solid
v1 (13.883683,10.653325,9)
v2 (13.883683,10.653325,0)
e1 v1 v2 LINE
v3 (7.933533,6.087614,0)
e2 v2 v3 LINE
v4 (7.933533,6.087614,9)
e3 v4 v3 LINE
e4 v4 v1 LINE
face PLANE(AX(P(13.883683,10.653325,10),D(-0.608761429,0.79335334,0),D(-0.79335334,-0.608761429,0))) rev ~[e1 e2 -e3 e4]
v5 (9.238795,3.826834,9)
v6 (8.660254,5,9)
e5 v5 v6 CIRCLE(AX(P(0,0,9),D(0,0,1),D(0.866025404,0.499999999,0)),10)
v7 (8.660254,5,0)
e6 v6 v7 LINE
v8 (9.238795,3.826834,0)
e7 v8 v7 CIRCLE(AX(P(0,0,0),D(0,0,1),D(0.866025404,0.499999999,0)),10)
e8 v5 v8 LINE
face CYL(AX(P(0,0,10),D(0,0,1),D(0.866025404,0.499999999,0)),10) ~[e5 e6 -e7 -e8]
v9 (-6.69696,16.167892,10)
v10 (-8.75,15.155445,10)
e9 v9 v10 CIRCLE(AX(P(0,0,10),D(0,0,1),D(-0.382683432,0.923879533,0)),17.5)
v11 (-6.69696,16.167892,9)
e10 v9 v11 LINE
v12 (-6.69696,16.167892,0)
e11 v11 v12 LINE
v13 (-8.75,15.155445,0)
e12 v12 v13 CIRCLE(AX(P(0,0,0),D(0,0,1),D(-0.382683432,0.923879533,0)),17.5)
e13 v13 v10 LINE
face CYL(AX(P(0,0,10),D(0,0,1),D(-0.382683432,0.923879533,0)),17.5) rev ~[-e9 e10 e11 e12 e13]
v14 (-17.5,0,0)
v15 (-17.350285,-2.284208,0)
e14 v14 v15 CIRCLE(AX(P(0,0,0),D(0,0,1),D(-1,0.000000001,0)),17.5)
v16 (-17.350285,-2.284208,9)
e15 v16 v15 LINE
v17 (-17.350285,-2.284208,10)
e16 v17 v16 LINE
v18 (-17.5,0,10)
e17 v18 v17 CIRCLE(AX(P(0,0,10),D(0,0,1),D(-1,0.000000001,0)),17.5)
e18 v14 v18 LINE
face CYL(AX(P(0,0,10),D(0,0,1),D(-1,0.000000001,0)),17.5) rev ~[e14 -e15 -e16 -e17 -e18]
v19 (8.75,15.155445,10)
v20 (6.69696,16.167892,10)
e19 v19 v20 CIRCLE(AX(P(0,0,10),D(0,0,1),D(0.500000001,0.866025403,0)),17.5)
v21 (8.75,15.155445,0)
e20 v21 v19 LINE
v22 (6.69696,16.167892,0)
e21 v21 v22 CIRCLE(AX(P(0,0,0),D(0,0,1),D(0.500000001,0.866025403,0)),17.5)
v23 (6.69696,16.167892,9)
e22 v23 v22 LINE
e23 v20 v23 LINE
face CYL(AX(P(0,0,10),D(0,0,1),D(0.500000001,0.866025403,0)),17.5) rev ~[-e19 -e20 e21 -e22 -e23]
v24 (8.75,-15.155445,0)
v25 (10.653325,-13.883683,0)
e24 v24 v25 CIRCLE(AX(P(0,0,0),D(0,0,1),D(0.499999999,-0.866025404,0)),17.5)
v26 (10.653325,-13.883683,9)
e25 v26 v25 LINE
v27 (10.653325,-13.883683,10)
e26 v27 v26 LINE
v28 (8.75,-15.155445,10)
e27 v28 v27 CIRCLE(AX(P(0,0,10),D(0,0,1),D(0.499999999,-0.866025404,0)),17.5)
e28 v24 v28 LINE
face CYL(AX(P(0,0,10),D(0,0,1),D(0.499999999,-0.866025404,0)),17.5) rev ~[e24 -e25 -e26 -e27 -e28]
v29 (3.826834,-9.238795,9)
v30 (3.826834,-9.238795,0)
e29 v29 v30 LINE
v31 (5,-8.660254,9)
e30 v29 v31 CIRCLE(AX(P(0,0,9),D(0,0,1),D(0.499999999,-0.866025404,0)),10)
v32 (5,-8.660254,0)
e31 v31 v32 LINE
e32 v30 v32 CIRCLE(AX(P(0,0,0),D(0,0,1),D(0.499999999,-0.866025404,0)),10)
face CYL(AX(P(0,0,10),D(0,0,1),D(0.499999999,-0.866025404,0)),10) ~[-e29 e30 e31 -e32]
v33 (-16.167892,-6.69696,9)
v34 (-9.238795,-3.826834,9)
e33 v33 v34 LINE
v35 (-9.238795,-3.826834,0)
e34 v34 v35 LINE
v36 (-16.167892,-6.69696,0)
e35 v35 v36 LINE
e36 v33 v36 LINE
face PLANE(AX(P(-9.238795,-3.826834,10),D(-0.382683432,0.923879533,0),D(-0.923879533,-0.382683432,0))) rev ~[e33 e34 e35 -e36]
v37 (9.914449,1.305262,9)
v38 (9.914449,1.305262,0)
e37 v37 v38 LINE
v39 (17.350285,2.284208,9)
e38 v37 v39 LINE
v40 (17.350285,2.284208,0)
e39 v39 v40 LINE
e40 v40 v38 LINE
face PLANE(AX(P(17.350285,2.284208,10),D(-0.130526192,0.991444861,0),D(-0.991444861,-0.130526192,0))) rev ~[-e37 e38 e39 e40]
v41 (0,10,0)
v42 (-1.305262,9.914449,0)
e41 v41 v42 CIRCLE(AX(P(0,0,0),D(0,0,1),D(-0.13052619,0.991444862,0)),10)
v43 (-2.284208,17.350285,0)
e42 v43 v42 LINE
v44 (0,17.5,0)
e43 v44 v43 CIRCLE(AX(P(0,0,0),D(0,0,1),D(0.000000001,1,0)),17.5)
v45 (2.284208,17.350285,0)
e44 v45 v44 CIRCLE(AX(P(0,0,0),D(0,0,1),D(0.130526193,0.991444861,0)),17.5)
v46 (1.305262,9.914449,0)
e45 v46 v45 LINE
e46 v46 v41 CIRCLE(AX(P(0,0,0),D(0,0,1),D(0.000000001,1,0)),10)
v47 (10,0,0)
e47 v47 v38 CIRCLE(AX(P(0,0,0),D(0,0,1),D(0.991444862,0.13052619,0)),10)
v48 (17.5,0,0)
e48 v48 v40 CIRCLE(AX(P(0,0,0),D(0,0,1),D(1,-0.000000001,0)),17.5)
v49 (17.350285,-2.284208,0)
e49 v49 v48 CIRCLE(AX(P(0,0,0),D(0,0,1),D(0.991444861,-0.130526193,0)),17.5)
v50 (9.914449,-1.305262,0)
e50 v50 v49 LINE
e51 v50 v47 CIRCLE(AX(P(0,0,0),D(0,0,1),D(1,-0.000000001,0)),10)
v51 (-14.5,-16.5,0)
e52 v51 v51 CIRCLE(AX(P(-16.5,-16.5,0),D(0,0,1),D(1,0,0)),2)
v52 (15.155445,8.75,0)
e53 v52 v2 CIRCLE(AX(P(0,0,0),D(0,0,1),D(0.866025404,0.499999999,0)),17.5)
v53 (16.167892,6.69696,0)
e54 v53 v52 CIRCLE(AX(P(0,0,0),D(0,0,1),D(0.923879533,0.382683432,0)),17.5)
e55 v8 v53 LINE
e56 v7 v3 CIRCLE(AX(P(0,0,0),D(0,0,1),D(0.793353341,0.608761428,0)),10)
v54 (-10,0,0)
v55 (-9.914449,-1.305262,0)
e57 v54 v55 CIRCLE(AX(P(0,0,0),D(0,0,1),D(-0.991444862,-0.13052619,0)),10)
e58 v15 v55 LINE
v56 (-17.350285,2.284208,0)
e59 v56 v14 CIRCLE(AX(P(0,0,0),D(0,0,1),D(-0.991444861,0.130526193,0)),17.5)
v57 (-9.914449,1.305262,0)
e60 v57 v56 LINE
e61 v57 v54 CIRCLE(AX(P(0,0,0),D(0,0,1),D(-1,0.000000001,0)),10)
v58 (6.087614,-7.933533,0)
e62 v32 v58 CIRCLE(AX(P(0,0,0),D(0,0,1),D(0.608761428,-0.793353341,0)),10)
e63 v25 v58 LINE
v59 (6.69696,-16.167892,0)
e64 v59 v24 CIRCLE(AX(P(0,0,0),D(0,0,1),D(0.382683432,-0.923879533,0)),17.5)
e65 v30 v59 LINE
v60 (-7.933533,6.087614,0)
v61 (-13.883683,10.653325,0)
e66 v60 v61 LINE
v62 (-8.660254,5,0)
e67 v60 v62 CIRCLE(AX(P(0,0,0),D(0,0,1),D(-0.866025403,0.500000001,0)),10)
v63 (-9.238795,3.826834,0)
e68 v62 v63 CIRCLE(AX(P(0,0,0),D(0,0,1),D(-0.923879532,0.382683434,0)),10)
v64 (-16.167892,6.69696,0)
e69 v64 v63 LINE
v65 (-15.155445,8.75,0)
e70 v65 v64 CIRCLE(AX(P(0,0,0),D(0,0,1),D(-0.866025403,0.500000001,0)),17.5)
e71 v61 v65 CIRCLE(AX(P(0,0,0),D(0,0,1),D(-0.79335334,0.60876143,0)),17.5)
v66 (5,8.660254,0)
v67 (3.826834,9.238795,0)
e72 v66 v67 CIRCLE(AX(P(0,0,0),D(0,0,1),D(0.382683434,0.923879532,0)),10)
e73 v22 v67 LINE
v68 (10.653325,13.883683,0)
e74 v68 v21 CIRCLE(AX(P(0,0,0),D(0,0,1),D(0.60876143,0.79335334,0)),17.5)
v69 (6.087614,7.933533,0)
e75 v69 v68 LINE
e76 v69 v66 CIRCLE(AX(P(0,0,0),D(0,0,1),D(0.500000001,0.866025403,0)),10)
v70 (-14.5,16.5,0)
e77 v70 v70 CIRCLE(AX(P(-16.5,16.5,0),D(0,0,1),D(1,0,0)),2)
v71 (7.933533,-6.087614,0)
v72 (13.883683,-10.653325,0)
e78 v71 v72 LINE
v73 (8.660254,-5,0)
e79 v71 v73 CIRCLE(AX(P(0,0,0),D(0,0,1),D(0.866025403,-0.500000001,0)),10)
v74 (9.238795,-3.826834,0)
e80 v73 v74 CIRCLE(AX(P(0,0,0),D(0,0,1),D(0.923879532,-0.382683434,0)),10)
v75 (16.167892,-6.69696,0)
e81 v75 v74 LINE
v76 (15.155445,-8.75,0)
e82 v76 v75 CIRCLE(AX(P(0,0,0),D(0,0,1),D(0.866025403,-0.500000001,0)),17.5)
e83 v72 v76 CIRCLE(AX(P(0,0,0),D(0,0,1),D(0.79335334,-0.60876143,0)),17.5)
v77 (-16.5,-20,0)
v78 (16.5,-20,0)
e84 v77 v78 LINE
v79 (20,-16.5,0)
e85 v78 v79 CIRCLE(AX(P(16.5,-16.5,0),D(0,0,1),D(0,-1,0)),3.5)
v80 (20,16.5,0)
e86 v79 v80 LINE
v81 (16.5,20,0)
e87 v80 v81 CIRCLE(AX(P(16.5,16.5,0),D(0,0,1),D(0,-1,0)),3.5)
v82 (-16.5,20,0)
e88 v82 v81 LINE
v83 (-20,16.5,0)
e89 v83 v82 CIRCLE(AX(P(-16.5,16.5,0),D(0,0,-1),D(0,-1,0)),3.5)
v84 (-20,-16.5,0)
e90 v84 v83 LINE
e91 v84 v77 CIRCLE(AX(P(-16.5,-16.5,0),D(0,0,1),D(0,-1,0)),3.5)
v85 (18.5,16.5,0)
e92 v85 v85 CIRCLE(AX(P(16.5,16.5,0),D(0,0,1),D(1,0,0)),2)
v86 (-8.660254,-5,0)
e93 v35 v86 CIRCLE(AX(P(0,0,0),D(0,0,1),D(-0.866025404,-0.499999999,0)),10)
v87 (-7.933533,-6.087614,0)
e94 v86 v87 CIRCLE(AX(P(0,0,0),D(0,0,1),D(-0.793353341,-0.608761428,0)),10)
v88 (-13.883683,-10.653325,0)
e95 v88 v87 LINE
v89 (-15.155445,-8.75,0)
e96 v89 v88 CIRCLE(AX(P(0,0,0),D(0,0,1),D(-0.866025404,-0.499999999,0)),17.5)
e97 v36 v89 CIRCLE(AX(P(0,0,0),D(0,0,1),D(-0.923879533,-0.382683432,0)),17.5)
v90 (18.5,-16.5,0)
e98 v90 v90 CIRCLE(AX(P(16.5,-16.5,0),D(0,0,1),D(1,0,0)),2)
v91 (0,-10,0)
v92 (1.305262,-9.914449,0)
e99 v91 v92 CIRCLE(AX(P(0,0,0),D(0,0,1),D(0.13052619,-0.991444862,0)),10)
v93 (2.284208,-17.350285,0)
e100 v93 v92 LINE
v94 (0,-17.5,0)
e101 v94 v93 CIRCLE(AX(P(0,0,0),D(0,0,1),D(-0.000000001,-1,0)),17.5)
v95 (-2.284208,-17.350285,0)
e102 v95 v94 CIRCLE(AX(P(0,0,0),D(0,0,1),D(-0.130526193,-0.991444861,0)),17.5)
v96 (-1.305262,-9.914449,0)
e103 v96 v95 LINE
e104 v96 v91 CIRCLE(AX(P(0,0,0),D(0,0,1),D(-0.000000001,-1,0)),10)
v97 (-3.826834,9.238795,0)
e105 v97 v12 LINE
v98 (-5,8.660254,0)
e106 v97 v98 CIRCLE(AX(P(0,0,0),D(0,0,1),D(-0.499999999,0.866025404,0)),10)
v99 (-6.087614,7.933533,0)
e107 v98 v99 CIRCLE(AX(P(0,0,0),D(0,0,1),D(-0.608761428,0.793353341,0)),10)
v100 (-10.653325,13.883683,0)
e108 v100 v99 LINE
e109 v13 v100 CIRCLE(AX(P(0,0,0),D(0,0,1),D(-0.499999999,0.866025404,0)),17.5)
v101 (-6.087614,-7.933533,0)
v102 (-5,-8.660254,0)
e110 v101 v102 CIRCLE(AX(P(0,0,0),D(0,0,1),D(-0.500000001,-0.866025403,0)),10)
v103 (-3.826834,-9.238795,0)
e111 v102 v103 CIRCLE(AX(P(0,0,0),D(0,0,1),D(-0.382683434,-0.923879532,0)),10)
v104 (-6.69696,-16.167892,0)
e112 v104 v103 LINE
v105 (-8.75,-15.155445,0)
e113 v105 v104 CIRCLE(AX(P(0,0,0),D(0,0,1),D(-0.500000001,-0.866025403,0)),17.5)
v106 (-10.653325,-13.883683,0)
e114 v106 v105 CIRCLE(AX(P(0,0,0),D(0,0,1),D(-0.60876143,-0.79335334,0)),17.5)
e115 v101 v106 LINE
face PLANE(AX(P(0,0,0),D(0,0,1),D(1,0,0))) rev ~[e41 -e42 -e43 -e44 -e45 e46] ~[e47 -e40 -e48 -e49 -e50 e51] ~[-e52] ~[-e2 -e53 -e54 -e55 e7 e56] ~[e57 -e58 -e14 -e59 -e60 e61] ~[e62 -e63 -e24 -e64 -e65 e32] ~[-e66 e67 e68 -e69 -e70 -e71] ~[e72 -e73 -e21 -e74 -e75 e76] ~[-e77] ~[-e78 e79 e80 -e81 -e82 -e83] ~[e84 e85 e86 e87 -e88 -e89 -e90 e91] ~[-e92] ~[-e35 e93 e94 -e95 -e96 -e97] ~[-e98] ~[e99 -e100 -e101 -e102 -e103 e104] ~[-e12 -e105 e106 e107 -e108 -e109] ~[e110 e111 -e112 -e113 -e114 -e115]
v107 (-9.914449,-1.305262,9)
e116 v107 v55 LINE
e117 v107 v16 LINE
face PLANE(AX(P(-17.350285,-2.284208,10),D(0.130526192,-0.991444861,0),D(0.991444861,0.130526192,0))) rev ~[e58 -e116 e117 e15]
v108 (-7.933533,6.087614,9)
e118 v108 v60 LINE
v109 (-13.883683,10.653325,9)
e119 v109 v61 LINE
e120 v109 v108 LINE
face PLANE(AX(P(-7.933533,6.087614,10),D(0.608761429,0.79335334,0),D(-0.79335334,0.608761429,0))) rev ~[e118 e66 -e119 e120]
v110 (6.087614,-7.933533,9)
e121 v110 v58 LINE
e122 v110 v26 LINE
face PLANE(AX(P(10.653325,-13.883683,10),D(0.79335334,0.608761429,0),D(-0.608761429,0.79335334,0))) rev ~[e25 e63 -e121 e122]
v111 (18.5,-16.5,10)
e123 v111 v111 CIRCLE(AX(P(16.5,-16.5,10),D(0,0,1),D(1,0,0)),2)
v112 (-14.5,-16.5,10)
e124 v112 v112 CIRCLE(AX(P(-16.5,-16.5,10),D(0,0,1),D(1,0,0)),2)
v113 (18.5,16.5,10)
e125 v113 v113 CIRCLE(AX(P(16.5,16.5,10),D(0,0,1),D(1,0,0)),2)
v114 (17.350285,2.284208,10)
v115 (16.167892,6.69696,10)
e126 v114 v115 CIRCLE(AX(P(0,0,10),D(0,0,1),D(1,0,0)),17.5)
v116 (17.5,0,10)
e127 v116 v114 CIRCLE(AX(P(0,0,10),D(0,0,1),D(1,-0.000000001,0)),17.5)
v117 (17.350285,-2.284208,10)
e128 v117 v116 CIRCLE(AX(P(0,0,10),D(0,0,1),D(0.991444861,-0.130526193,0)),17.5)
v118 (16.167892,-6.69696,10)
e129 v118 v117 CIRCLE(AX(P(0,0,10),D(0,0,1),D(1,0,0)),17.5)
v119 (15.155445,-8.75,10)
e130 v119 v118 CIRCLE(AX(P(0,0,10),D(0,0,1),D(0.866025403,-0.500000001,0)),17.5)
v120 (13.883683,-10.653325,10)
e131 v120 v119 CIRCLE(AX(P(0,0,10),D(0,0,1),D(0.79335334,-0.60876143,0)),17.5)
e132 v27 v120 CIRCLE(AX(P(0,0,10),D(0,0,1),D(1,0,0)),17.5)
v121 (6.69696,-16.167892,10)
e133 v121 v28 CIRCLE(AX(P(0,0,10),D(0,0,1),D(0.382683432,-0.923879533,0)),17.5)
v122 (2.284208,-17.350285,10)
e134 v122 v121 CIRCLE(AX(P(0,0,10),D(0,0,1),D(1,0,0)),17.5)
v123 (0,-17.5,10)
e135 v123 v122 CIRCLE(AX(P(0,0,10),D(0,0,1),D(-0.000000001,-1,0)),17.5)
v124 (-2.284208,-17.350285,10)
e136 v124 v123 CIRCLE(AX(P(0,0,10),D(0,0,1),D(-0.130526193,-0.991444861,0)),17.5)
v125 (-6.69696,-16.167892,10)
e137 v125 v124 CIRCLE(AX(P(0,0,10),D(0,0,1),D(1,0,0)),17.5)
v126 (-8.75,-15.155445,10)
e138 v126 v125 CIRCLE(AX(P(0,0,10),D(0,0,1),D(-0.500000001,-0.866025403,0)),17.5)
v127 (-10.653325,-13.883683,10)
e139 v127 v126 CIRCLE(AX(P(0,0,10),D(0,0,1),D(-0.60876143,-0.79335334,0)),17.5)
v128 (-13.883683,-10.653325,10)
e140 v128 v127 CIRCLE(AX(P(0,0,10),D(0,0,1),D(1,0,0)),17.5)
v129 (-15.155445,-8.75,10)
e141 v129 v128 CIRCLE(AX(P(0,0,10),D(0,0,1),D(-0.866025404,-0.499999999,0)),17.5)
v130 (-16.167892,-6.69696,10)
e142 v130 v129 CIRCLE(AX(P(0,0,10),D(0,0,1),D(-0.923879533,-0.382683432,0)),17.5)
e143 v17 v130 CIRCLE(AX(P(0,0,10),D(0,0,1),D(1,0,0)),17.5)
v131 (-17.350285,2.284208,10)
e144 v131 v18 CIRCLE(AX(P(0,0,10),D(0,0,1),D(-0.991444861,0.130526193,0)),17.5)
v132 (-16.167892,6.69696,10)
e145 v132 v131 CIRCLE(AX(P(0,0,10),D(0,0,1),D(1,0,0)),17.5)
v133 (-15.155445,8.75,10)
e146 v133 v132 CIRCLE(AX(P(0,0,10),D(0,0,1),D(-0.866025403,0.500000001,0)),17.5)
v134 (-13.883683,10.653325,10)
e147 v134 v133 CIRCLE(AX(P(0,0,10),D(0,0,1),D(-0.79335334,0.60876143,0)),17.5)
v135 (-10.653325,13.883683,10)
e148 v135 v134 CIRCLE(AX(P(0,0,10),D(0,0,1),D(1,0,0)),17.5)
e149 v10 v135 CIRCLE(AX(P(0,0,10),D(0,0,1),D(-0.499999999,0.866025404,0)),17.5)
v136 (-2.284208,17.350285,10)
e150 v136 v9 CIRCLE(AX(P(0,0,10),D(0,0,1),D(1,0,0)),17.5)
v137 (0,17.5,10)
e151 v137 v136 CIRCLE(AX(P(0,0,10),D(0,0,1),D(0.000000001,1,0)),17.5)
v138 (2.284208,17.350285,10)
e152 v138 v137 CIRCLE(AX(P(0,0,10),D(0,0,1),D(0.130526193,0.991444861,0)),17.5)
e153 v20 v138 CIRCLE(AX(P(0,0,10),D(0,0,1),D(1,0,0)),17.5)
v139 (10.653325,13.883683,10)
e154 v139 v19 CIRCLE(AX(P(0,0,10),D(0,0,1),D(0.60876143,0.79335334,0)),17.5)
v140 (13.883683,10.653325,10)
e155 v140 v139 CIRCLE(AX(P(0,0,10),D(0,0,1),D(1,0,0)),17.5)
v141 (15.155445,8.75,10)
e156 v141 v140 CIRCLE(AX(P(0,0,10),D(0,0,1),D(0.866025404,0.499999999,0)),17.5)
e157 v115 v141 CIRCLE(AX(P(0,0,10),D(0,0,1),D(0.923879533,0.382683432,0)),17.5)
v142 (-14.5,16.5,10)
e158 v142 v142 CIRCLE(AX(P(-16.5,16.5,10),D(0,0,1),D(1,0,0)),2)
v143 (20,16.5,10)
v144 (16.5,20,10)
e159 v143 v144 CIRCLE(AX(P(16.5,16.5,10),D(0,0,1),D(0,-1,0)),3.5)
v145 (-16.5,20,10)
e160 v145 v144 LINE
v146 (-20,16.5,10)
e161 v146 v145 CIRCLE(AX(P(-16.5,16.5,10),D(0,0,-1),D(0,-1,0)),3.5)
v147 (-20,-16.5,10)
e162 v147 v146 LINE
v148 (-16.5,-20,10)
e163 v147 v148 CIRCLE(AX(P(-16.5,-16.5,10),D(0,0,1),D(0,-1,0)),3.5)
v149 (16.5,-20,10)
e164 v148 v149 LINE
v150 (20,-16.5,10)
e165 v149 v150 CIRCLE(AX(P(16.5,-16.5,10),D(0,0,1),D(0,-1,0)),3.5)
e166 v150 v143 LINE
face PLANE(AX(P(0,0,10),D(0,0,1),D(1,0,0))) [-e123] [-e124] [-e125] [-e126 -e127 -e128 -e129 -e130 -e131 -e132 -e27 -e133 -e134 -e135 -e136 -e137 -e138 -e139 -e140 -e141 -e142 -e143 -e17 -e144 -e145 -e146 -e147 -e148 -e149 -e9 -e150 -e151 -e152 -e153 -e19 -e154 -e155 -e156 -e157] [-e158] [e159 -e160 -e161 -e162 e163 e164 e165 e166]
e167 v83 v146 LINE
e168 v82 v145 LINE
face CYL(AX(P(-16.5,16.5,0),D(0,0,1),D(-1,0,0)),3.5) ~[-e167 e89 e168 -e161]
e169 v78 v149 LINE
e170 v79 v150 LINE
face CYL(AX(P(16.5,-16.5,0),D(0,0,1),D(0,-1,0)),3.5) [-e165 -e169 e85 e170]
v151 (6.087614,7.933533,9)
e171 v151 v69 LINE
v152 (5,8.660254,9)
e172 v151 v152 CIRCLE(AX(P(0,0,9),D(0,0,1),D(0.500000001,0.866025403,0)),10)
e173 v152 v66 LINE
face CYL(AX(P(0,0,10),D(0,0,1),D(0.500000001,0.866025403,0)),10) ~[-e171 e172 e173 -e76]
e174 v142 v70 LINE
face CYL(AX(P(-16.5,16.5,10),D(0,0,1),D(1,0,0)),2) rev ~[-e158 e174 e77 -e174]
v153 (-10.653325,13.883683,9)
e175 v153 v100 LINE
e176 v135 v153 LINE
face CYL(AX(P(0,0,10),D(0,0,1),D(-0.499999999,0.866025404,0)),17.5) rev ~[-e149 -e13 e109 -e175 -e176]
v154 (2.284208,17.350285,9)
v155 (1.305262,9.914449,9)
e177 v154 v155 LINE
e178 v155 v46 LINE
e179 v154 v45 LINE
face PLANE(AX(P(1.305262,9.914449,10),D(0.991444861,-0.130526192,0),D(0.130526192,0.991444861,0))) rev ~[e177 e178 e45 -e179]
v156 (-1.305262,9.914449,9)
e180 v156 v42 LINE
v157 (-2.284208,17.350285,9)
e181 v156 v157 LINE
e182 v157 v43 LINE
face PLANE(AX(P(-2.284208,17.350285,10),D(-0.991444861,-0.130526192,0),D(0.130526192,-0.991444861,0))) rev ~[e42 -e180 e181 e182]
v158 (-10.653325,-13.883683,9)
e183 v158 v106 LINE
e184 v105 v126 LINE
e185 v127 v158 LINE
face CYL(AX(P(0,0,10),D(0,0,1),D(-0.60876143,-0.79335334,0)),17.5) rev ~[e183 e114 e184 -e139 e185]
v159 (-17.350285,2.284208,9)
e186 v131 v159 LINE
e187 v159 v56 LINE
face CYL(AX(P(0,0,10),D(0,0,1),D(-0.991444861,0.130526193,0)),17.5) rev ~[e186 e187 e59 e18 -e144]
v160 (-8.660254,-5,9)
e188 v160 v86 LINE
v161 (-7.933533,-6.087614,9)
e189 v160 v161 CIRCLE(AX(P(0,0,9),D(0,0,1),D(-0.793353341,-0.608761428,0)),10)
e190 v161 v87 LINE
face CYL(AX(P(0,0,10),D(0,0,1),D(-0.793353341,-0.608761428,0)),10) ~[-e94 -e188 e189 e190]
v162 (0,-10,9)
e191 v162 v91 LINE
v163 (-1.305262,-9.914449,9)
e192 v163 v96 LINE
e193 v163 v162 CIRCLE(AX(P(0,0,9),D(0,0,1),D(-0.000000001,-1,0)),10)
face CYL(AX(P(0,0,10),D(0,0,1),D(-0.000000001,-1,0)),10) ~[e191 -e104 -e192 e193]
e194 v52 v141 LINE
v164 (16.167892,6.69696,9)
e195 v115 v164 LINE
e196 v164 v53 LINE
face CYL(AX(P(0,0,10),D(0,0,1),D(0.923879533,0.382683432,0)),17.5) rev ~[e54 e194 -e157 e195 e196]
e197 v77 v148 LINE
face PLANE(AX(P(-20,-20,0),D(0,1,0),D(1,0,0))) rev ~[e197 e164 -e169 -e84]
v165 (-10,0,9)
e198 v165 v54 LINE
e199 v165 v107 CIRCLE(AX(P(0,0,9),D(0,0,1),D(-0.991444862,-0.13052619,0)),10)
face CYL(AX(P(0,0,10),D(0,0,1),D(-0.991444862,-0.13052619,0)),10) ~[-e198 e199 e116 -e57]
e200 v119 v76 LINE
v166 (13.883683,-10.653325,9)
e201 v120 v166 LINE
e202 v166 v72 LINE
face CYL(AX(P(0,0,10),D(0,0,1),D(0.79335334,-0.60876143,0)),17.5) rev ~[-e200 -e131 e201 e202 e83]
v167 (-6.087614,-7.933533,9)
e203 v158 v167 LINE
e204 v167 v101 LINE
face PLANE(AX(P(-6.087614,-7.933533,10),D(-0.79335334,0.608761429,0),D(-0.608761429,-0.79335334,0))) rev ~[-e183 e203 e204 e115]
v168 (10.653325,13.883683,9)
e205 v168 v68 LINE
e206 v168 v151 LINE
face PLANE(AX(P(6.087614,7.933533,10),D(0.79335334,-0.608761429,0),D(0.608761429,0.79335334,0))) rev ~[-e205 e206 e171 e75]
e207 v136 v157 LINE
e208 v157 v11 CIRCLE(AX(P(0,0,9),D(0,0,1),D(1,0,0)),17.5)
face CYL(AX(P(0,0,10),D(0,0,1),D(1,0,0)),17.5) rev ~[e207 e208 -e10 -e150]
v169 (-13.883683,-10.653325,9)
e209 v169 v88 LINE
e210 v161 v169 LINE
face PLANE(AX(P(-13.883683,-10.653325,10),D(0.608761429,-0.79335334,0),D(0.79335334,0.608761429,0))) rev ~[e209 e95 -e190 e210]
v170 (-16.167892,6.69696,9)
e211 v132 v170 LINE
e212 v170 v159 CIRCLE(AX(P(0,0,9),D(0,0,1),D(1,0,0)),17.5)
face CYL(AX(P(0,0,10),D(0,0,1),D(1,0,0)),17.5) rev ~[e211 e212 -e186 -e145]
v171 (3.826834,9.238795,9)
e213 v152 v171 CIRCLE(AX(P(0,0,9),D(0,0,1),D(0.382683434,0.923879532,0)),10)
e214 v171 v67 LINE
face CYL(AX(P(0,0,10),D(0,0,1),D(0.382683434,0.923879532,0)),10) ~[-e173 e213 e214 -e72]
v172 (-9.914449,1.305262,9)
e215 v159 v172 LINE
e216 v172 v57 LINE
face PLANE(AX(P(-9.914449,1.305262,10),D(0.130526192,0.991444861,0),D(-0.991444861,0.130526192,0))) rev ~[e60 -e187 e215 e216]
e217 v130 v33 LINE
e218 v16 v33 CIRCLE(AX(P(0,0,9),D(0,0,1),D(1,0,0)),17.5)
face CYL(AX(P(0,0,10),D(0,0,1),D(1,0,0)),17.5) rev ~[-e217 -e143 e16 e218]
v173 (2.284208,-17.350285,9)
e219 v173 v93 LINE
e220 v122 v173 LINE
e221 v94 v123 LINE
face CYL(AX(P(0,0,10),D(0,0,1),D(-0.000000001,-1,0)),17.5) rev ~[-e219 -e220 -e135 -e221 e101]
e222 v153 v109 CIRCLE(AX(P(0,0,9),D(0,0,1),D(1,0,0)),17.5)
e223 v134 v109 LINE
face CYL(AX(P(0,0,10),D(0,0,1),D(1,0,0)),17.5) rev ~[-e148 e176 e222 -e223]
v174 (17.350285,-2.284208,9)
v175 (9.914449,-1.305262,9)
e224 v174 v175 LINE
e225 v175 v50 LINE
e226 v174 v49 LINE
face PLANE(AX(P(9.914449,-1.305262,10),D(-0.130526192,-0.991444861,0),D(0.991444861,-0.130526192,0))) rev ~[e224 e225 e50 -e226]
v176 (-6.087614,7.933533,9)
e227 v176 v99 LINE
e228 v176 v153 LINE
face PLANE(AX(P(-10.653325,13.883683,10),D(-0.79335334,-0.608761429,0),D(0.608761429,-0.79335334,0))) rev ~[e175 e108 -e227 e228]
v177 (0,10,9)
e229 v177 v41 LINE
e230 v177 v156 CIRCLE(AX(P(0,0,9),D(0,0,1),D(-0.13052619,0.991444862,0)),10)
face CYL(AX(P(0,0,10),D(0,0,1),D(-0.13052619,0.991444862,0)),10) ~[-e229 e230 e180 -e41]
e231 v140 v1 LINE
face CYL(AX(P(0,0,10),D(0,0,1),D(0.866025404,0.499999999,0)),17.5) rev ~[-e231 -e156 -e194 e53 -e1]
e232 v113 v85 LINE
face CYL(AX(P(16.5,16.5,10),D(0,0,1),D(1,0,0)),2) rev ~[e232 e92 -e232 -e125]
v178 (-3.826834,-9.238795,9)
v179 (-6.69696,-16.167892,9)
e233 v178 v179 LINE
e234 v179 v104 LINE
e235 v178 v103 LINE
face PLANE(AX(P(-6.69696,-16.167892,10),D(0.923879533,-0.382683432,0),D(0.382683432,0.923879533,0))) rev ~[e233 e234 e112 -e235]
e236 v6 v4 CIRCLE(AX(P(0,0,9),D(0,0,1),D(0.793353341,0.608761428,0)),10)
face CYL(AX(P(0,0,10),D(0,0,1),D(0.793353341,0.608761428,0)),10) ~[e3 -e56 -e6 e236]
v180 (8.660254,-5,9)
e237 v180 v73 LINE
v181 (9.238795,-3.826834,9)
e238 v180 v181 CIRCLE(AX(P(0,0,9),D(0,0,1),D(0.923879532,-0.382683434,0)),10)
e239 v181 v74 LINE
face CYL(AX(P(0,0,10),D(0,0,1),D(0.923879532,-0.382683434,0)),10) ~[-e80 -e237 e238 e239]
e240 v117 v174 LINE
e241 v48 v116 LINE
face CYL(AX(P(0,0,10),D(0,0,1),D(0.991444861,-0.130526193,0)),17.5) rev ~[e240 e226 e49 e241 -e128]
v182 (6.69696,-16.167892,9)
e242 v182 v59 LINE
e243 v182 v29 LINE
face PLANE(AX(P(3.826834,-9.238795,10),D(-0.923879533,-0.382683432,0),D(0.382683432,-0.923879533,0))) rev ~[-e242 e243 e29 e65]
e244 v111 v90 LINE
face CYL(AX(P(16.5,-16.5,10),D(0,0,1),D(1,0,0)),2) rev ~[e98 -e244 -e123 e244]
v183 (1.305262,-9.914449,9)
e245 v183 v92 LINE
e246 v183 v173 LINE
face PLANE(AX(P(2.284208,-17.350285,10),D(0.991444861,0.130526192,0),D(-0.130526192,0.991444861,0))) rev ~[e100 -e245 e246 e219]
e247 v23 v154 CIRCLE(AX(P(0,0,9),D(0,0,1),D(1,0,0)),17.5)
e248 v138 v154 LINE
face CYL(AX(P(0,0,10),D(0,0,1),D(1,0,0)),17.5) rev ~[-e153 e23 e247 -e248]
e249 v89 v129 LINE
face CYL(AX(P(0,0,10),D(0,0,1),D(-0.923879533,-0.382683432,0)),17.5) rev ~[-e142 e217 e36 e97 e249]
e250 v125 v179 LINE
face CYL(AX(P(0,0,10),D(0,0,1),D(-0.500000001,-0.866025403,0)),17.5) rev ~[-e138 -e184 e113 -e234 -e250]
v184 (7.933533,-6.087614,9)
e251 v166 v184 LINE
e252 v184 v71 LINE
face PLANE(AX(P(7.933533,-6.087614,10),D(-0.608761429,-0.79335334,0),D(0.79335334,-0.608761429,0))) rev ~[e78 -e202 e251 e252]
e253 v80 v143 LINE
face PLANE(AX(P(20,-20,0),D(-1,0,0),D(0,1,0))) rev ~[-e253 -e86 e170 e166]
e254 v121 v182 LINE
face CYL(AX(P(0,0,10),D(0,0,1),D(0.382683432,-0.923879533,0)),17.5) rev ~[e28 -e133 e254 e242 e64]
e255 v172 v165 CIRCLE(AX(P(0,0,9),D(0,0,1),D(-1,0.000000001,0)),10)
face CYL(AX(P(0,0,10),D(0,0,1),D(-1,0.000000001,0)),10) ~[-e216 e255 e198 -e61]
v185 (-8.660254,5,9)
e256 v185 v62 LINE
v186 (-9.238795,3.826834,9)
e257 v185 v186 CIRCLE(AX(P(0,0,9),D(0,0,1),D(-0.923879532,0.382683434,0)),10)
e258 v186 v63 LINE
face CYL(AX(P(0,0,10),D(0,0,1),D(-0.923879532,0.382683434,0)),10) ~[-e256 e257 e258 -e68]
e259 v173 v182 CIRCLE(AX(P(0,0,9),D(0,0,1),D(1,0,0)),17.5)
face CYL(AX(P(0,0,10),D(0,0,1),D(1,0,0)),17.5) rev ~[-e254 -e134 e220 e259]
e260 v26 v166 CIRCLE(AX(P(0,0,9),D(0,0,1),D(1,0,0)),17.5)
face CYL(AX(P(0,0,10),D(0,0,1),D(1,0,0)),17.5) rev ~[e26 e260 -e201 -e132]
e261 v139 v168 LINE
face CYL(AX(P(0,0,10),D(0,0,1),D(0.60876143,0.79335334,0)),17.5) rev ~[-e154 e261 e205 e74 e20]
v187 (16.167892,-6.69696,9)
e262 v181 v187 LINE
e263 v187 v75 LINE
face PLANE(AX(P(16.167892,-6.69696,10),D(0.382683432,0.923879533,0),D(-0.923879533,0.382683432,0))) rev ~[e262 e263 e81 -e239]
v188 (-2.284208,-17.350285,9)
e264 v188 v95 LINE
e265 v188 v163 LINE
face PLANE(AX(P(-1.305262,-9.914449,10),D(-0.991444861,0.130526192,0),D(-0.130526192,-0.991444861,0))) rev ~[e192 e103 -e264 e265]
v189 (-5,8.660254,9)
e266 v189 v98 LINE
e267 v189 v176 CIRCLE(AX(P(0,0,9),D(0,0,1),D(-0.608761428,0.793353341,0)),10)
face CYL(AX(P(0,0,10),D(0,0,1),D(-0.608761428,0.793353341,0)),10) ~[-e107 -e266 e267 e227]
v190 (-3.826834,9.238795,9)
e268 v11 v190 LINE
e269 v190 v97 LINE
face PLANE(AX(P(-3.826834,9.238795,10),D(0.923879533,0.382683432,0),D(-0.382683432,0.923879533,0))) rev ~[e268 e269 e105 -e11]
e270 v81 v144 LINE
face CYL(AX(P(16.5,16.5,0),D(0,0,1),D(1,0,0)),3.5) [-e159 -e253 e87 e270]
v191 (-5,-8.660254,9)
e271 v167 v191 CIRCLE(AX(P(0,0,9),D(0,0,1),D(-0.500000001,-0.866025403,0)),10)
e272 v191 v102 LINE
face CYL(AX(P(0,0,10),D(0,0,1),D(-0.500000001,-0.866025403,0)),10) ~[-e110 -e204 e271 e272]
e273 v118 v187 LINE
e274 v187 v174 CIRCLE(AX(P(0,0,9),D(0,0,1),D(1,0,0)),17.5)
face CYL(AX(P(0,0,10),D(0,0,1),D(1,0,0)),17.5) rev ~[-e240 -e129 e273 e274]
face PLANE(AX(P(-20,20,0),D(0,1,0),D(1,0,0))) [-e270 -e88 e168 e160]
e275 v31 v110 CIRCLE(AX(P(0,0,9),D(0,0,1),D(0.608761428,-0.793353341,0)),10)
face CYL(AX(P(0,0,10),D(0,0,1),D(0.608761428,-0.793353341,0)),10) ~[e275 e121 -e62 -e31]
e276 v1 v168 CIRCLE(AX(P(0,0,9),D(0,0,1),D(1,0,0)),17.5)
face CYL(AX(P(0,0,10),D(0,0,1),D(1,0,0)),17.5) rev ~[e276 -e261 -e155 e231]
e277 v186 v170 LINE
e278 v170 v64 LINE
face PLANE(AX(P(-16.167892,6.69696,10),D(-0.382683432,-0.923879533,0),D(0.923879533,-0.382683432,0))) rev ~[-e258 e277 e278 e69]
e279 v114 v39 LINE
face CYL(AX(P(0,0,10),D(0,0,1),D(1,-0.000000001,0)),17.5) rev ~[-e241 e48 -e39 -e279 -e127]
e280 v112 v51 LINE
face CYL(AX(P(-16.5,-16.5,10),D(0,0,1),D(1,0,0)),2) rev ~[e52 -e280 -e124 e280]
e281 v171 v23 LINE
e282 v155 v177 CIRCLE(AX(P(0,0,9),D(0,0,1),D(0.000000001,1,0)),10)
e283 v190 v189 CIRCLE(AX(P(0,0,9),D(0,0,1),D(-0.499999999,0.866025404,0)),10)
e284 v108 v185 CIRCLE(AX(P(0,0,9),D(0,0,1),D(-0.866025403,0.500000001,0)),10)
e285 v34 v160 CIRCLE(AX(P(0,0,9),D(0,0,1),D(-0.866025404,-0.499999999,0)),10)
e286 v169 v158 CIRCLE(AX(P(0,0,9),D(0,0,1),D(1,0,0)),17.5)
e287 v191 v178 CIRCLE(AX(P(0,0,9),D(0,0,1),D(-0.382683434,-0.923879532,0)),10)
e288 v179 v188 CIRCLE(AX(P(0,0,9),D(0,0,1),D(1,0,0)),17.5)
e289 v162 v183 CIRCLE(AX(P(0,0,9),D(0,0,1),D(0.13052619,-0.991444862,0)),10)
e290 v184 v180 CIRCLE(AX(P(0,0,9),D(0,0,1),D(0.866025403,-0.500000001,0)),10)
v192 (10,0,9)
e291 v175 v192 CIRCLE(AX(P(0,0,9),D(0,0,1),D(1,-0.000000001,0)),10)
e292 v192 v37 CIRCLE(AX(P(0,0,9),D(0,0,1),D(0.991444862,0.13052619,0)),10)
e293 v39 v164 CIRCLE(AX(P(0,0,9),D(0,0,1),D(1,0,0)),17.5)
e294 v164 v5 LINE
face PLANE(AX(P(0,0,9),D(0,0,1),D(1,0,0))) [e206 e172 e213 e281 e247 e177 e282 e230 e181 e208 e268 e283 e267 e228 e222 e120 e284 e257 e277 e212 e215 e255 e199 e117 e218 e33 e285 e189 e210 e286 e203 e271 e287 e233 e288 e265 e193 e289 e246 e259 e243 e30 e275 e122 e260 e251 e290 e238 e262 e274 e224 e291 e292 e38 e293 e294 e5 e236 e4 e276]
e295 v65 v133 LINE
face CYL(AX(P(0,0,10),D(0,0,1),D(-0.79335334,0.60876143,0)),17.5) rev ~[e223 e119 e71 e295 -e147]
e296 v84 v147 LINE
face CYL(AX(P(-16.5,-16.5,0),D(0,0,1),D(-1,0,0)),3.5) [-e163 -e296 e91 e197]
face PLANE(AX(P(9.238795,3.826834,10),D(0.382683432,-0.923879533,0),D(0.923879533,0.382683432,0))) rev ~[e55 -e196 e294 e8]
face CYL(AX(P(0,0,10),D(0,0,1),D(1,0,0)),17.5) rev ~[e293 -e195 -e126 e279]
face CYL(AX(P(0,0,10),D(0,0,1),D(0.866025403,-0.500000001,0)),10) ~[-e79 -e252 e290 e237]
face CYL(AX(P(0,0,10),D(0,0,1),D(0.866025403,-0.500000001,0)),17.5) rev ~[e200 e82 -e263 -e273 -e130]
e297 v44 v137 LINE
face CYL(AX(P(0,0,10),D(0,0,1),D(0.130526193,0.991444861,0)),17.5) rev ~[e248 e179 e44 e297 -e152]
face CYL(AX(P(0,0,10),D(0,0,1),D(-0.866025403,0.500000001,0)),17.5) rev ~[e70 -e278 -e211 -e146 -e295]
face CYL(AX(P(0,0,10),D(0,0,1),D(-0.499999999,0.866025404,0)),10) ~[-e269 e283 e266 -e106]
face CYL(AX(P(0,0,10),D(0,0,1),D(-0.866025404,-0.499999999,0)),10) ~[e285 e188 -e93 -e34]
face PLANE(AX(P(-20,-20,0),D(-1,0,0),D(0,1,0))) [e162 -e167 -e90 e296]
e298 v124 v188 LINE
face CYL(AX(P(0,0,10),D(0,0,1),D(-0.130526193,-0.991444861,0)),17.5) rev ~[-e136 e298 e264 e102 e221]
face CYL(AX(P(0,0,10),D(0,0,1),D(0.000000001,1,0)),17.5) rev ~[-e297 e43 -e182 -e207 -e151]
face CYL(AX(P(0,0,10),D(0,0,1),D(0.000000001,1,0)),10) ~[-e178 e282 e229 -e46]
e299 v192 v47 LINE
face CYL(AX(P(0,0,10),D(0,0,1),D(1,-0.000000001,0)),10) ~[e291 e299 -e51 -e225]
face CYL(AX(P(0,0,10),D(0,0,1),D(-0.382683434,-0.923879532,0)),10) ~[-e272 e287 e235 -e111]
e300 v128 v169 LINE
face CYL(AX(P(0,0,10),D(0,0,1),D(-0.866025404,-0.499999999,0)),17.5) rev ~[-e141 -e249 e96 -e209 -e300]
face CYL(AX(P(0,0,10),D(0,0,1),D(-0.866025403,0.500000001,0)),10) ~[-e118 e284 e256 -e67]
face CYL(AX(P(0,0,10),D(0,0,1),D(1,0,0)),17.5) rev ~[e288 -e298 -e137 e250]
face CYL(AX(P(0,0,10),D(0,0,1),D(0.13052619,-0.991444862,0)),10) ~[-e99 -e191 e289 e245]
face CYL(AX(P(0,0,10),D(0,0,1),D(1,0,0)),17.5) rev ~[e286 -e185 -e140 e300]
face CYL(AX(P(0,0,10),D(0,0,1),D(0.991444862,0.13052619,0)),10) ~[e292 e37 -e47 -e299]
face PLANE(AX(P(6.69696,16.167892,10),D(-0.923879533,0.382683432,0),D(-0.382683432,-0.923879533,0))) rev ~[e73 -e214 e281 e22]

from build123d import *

# Parameters (mm, degrees)
SKETCH1_W           = 40
SKETCH1_H           = 40
BOSS_EXTRUDE1_DEPTH = 10
FILLET1_R           = 3.5
SKETCH2_R           = 2
CUT_EXTRUDE1_DEPTH  = 11
CUT_EXTRUDE2_DEPTH  = 11
CIRPATTERN1_COUNT   = 12
SKETCH6_R           = 17.5
CUT_EXTRUDE3_DEPTH  = 1


with BuildPart() as part:
    # Sketch1 → Boss-Extrude1 (new body)
    with BuildSketch(Plane.XY):
        Rectangle(SKETCH1_W, SKETCH1_H)
    extrude(amount=BOSS_EXTRUDE1_DEPTH)

    # Fillet1
    fillet1_edges = [part.edges().sort_by_distance(p)[0] for p in [
        (20, -20, 5),
        (-20, -20, 5),
        (-20, 20, 5),
        (20, 20, 5),
    ]]
    fillet(fillet1_edges, radius=FILLET1_R)

    # Sketch2 → Cut-Extrude1 (cut, through all)
    with BuildSketch(Plane.XY.offset(10)):
        with Locations((16.5, -16.5)):
            Circle(SKETCH2_R)
        with Locations((16.5, 16.5)):
            Circle(SKETCH2_R)
        with Locations((-16.5, 16.5)):
            Circle(SKETCH2_R)
        with Locations((-16.5, -16.5)):
            Circle(SKETCH2_R)
    extrude(amount=-CUT_EXTRUDE1_DEPTH, mode=Mode.SUBTRACT)

    # Sketch5 → Cut-Extrude2 (cut, through all)
    with BuildSketch(Plane.XY.offset(10)):
        with BuildLine():
            Line((17.350285074, 2.284208364), (9.914448614, 1.305261922))
            ThreePointArc((9.914448614, 1.305261922), (9.978589232, 0.654031292), (10, 0))
            ThreePointArc((10, 0), (9.978589232, -0.654031292), (9.914448614, -1.305261922))
            Line((9.914448614, -1.305261922), (17.350285074, -2.284208364))
            ThreePointArc((17.350285074, -2.284208364), (17.462531157, -1.144554762), (17.5, 0))
            ThreePointArc((17.5, 0), (17.462531157, 1.144554762), (17.350285074, 2.284208364))
        make_face()
    cut_extrude2 = extrude(amount=-CUT_EXTRUDE2_DEPTH, mode=Mode.SUBTRACT)

    # CirPattern1: Cut-Extrude2 ×12 about axis
    cirpattern1_axis = Axis((0, 0, 0), (0, 0, 1))
    for i in range(1, CIRPATTERN1_COUNT):
        add(cut_extrude2.rotate(cirpattern1_axis, i * 360 / CIRPATTERN1_COUNT), mode=Mode.SUBTRACT)

    # Sketch6 → Cut-Extrude3 (cut)
    with BuildSketch(Plane.XY.offset(10)):
        Circle(SKETCH6_R)
    extrude(amount=-CUT_EXTRUDE3_DEPTH, mode=Mode.SUBTRACT)


solid = part.part
